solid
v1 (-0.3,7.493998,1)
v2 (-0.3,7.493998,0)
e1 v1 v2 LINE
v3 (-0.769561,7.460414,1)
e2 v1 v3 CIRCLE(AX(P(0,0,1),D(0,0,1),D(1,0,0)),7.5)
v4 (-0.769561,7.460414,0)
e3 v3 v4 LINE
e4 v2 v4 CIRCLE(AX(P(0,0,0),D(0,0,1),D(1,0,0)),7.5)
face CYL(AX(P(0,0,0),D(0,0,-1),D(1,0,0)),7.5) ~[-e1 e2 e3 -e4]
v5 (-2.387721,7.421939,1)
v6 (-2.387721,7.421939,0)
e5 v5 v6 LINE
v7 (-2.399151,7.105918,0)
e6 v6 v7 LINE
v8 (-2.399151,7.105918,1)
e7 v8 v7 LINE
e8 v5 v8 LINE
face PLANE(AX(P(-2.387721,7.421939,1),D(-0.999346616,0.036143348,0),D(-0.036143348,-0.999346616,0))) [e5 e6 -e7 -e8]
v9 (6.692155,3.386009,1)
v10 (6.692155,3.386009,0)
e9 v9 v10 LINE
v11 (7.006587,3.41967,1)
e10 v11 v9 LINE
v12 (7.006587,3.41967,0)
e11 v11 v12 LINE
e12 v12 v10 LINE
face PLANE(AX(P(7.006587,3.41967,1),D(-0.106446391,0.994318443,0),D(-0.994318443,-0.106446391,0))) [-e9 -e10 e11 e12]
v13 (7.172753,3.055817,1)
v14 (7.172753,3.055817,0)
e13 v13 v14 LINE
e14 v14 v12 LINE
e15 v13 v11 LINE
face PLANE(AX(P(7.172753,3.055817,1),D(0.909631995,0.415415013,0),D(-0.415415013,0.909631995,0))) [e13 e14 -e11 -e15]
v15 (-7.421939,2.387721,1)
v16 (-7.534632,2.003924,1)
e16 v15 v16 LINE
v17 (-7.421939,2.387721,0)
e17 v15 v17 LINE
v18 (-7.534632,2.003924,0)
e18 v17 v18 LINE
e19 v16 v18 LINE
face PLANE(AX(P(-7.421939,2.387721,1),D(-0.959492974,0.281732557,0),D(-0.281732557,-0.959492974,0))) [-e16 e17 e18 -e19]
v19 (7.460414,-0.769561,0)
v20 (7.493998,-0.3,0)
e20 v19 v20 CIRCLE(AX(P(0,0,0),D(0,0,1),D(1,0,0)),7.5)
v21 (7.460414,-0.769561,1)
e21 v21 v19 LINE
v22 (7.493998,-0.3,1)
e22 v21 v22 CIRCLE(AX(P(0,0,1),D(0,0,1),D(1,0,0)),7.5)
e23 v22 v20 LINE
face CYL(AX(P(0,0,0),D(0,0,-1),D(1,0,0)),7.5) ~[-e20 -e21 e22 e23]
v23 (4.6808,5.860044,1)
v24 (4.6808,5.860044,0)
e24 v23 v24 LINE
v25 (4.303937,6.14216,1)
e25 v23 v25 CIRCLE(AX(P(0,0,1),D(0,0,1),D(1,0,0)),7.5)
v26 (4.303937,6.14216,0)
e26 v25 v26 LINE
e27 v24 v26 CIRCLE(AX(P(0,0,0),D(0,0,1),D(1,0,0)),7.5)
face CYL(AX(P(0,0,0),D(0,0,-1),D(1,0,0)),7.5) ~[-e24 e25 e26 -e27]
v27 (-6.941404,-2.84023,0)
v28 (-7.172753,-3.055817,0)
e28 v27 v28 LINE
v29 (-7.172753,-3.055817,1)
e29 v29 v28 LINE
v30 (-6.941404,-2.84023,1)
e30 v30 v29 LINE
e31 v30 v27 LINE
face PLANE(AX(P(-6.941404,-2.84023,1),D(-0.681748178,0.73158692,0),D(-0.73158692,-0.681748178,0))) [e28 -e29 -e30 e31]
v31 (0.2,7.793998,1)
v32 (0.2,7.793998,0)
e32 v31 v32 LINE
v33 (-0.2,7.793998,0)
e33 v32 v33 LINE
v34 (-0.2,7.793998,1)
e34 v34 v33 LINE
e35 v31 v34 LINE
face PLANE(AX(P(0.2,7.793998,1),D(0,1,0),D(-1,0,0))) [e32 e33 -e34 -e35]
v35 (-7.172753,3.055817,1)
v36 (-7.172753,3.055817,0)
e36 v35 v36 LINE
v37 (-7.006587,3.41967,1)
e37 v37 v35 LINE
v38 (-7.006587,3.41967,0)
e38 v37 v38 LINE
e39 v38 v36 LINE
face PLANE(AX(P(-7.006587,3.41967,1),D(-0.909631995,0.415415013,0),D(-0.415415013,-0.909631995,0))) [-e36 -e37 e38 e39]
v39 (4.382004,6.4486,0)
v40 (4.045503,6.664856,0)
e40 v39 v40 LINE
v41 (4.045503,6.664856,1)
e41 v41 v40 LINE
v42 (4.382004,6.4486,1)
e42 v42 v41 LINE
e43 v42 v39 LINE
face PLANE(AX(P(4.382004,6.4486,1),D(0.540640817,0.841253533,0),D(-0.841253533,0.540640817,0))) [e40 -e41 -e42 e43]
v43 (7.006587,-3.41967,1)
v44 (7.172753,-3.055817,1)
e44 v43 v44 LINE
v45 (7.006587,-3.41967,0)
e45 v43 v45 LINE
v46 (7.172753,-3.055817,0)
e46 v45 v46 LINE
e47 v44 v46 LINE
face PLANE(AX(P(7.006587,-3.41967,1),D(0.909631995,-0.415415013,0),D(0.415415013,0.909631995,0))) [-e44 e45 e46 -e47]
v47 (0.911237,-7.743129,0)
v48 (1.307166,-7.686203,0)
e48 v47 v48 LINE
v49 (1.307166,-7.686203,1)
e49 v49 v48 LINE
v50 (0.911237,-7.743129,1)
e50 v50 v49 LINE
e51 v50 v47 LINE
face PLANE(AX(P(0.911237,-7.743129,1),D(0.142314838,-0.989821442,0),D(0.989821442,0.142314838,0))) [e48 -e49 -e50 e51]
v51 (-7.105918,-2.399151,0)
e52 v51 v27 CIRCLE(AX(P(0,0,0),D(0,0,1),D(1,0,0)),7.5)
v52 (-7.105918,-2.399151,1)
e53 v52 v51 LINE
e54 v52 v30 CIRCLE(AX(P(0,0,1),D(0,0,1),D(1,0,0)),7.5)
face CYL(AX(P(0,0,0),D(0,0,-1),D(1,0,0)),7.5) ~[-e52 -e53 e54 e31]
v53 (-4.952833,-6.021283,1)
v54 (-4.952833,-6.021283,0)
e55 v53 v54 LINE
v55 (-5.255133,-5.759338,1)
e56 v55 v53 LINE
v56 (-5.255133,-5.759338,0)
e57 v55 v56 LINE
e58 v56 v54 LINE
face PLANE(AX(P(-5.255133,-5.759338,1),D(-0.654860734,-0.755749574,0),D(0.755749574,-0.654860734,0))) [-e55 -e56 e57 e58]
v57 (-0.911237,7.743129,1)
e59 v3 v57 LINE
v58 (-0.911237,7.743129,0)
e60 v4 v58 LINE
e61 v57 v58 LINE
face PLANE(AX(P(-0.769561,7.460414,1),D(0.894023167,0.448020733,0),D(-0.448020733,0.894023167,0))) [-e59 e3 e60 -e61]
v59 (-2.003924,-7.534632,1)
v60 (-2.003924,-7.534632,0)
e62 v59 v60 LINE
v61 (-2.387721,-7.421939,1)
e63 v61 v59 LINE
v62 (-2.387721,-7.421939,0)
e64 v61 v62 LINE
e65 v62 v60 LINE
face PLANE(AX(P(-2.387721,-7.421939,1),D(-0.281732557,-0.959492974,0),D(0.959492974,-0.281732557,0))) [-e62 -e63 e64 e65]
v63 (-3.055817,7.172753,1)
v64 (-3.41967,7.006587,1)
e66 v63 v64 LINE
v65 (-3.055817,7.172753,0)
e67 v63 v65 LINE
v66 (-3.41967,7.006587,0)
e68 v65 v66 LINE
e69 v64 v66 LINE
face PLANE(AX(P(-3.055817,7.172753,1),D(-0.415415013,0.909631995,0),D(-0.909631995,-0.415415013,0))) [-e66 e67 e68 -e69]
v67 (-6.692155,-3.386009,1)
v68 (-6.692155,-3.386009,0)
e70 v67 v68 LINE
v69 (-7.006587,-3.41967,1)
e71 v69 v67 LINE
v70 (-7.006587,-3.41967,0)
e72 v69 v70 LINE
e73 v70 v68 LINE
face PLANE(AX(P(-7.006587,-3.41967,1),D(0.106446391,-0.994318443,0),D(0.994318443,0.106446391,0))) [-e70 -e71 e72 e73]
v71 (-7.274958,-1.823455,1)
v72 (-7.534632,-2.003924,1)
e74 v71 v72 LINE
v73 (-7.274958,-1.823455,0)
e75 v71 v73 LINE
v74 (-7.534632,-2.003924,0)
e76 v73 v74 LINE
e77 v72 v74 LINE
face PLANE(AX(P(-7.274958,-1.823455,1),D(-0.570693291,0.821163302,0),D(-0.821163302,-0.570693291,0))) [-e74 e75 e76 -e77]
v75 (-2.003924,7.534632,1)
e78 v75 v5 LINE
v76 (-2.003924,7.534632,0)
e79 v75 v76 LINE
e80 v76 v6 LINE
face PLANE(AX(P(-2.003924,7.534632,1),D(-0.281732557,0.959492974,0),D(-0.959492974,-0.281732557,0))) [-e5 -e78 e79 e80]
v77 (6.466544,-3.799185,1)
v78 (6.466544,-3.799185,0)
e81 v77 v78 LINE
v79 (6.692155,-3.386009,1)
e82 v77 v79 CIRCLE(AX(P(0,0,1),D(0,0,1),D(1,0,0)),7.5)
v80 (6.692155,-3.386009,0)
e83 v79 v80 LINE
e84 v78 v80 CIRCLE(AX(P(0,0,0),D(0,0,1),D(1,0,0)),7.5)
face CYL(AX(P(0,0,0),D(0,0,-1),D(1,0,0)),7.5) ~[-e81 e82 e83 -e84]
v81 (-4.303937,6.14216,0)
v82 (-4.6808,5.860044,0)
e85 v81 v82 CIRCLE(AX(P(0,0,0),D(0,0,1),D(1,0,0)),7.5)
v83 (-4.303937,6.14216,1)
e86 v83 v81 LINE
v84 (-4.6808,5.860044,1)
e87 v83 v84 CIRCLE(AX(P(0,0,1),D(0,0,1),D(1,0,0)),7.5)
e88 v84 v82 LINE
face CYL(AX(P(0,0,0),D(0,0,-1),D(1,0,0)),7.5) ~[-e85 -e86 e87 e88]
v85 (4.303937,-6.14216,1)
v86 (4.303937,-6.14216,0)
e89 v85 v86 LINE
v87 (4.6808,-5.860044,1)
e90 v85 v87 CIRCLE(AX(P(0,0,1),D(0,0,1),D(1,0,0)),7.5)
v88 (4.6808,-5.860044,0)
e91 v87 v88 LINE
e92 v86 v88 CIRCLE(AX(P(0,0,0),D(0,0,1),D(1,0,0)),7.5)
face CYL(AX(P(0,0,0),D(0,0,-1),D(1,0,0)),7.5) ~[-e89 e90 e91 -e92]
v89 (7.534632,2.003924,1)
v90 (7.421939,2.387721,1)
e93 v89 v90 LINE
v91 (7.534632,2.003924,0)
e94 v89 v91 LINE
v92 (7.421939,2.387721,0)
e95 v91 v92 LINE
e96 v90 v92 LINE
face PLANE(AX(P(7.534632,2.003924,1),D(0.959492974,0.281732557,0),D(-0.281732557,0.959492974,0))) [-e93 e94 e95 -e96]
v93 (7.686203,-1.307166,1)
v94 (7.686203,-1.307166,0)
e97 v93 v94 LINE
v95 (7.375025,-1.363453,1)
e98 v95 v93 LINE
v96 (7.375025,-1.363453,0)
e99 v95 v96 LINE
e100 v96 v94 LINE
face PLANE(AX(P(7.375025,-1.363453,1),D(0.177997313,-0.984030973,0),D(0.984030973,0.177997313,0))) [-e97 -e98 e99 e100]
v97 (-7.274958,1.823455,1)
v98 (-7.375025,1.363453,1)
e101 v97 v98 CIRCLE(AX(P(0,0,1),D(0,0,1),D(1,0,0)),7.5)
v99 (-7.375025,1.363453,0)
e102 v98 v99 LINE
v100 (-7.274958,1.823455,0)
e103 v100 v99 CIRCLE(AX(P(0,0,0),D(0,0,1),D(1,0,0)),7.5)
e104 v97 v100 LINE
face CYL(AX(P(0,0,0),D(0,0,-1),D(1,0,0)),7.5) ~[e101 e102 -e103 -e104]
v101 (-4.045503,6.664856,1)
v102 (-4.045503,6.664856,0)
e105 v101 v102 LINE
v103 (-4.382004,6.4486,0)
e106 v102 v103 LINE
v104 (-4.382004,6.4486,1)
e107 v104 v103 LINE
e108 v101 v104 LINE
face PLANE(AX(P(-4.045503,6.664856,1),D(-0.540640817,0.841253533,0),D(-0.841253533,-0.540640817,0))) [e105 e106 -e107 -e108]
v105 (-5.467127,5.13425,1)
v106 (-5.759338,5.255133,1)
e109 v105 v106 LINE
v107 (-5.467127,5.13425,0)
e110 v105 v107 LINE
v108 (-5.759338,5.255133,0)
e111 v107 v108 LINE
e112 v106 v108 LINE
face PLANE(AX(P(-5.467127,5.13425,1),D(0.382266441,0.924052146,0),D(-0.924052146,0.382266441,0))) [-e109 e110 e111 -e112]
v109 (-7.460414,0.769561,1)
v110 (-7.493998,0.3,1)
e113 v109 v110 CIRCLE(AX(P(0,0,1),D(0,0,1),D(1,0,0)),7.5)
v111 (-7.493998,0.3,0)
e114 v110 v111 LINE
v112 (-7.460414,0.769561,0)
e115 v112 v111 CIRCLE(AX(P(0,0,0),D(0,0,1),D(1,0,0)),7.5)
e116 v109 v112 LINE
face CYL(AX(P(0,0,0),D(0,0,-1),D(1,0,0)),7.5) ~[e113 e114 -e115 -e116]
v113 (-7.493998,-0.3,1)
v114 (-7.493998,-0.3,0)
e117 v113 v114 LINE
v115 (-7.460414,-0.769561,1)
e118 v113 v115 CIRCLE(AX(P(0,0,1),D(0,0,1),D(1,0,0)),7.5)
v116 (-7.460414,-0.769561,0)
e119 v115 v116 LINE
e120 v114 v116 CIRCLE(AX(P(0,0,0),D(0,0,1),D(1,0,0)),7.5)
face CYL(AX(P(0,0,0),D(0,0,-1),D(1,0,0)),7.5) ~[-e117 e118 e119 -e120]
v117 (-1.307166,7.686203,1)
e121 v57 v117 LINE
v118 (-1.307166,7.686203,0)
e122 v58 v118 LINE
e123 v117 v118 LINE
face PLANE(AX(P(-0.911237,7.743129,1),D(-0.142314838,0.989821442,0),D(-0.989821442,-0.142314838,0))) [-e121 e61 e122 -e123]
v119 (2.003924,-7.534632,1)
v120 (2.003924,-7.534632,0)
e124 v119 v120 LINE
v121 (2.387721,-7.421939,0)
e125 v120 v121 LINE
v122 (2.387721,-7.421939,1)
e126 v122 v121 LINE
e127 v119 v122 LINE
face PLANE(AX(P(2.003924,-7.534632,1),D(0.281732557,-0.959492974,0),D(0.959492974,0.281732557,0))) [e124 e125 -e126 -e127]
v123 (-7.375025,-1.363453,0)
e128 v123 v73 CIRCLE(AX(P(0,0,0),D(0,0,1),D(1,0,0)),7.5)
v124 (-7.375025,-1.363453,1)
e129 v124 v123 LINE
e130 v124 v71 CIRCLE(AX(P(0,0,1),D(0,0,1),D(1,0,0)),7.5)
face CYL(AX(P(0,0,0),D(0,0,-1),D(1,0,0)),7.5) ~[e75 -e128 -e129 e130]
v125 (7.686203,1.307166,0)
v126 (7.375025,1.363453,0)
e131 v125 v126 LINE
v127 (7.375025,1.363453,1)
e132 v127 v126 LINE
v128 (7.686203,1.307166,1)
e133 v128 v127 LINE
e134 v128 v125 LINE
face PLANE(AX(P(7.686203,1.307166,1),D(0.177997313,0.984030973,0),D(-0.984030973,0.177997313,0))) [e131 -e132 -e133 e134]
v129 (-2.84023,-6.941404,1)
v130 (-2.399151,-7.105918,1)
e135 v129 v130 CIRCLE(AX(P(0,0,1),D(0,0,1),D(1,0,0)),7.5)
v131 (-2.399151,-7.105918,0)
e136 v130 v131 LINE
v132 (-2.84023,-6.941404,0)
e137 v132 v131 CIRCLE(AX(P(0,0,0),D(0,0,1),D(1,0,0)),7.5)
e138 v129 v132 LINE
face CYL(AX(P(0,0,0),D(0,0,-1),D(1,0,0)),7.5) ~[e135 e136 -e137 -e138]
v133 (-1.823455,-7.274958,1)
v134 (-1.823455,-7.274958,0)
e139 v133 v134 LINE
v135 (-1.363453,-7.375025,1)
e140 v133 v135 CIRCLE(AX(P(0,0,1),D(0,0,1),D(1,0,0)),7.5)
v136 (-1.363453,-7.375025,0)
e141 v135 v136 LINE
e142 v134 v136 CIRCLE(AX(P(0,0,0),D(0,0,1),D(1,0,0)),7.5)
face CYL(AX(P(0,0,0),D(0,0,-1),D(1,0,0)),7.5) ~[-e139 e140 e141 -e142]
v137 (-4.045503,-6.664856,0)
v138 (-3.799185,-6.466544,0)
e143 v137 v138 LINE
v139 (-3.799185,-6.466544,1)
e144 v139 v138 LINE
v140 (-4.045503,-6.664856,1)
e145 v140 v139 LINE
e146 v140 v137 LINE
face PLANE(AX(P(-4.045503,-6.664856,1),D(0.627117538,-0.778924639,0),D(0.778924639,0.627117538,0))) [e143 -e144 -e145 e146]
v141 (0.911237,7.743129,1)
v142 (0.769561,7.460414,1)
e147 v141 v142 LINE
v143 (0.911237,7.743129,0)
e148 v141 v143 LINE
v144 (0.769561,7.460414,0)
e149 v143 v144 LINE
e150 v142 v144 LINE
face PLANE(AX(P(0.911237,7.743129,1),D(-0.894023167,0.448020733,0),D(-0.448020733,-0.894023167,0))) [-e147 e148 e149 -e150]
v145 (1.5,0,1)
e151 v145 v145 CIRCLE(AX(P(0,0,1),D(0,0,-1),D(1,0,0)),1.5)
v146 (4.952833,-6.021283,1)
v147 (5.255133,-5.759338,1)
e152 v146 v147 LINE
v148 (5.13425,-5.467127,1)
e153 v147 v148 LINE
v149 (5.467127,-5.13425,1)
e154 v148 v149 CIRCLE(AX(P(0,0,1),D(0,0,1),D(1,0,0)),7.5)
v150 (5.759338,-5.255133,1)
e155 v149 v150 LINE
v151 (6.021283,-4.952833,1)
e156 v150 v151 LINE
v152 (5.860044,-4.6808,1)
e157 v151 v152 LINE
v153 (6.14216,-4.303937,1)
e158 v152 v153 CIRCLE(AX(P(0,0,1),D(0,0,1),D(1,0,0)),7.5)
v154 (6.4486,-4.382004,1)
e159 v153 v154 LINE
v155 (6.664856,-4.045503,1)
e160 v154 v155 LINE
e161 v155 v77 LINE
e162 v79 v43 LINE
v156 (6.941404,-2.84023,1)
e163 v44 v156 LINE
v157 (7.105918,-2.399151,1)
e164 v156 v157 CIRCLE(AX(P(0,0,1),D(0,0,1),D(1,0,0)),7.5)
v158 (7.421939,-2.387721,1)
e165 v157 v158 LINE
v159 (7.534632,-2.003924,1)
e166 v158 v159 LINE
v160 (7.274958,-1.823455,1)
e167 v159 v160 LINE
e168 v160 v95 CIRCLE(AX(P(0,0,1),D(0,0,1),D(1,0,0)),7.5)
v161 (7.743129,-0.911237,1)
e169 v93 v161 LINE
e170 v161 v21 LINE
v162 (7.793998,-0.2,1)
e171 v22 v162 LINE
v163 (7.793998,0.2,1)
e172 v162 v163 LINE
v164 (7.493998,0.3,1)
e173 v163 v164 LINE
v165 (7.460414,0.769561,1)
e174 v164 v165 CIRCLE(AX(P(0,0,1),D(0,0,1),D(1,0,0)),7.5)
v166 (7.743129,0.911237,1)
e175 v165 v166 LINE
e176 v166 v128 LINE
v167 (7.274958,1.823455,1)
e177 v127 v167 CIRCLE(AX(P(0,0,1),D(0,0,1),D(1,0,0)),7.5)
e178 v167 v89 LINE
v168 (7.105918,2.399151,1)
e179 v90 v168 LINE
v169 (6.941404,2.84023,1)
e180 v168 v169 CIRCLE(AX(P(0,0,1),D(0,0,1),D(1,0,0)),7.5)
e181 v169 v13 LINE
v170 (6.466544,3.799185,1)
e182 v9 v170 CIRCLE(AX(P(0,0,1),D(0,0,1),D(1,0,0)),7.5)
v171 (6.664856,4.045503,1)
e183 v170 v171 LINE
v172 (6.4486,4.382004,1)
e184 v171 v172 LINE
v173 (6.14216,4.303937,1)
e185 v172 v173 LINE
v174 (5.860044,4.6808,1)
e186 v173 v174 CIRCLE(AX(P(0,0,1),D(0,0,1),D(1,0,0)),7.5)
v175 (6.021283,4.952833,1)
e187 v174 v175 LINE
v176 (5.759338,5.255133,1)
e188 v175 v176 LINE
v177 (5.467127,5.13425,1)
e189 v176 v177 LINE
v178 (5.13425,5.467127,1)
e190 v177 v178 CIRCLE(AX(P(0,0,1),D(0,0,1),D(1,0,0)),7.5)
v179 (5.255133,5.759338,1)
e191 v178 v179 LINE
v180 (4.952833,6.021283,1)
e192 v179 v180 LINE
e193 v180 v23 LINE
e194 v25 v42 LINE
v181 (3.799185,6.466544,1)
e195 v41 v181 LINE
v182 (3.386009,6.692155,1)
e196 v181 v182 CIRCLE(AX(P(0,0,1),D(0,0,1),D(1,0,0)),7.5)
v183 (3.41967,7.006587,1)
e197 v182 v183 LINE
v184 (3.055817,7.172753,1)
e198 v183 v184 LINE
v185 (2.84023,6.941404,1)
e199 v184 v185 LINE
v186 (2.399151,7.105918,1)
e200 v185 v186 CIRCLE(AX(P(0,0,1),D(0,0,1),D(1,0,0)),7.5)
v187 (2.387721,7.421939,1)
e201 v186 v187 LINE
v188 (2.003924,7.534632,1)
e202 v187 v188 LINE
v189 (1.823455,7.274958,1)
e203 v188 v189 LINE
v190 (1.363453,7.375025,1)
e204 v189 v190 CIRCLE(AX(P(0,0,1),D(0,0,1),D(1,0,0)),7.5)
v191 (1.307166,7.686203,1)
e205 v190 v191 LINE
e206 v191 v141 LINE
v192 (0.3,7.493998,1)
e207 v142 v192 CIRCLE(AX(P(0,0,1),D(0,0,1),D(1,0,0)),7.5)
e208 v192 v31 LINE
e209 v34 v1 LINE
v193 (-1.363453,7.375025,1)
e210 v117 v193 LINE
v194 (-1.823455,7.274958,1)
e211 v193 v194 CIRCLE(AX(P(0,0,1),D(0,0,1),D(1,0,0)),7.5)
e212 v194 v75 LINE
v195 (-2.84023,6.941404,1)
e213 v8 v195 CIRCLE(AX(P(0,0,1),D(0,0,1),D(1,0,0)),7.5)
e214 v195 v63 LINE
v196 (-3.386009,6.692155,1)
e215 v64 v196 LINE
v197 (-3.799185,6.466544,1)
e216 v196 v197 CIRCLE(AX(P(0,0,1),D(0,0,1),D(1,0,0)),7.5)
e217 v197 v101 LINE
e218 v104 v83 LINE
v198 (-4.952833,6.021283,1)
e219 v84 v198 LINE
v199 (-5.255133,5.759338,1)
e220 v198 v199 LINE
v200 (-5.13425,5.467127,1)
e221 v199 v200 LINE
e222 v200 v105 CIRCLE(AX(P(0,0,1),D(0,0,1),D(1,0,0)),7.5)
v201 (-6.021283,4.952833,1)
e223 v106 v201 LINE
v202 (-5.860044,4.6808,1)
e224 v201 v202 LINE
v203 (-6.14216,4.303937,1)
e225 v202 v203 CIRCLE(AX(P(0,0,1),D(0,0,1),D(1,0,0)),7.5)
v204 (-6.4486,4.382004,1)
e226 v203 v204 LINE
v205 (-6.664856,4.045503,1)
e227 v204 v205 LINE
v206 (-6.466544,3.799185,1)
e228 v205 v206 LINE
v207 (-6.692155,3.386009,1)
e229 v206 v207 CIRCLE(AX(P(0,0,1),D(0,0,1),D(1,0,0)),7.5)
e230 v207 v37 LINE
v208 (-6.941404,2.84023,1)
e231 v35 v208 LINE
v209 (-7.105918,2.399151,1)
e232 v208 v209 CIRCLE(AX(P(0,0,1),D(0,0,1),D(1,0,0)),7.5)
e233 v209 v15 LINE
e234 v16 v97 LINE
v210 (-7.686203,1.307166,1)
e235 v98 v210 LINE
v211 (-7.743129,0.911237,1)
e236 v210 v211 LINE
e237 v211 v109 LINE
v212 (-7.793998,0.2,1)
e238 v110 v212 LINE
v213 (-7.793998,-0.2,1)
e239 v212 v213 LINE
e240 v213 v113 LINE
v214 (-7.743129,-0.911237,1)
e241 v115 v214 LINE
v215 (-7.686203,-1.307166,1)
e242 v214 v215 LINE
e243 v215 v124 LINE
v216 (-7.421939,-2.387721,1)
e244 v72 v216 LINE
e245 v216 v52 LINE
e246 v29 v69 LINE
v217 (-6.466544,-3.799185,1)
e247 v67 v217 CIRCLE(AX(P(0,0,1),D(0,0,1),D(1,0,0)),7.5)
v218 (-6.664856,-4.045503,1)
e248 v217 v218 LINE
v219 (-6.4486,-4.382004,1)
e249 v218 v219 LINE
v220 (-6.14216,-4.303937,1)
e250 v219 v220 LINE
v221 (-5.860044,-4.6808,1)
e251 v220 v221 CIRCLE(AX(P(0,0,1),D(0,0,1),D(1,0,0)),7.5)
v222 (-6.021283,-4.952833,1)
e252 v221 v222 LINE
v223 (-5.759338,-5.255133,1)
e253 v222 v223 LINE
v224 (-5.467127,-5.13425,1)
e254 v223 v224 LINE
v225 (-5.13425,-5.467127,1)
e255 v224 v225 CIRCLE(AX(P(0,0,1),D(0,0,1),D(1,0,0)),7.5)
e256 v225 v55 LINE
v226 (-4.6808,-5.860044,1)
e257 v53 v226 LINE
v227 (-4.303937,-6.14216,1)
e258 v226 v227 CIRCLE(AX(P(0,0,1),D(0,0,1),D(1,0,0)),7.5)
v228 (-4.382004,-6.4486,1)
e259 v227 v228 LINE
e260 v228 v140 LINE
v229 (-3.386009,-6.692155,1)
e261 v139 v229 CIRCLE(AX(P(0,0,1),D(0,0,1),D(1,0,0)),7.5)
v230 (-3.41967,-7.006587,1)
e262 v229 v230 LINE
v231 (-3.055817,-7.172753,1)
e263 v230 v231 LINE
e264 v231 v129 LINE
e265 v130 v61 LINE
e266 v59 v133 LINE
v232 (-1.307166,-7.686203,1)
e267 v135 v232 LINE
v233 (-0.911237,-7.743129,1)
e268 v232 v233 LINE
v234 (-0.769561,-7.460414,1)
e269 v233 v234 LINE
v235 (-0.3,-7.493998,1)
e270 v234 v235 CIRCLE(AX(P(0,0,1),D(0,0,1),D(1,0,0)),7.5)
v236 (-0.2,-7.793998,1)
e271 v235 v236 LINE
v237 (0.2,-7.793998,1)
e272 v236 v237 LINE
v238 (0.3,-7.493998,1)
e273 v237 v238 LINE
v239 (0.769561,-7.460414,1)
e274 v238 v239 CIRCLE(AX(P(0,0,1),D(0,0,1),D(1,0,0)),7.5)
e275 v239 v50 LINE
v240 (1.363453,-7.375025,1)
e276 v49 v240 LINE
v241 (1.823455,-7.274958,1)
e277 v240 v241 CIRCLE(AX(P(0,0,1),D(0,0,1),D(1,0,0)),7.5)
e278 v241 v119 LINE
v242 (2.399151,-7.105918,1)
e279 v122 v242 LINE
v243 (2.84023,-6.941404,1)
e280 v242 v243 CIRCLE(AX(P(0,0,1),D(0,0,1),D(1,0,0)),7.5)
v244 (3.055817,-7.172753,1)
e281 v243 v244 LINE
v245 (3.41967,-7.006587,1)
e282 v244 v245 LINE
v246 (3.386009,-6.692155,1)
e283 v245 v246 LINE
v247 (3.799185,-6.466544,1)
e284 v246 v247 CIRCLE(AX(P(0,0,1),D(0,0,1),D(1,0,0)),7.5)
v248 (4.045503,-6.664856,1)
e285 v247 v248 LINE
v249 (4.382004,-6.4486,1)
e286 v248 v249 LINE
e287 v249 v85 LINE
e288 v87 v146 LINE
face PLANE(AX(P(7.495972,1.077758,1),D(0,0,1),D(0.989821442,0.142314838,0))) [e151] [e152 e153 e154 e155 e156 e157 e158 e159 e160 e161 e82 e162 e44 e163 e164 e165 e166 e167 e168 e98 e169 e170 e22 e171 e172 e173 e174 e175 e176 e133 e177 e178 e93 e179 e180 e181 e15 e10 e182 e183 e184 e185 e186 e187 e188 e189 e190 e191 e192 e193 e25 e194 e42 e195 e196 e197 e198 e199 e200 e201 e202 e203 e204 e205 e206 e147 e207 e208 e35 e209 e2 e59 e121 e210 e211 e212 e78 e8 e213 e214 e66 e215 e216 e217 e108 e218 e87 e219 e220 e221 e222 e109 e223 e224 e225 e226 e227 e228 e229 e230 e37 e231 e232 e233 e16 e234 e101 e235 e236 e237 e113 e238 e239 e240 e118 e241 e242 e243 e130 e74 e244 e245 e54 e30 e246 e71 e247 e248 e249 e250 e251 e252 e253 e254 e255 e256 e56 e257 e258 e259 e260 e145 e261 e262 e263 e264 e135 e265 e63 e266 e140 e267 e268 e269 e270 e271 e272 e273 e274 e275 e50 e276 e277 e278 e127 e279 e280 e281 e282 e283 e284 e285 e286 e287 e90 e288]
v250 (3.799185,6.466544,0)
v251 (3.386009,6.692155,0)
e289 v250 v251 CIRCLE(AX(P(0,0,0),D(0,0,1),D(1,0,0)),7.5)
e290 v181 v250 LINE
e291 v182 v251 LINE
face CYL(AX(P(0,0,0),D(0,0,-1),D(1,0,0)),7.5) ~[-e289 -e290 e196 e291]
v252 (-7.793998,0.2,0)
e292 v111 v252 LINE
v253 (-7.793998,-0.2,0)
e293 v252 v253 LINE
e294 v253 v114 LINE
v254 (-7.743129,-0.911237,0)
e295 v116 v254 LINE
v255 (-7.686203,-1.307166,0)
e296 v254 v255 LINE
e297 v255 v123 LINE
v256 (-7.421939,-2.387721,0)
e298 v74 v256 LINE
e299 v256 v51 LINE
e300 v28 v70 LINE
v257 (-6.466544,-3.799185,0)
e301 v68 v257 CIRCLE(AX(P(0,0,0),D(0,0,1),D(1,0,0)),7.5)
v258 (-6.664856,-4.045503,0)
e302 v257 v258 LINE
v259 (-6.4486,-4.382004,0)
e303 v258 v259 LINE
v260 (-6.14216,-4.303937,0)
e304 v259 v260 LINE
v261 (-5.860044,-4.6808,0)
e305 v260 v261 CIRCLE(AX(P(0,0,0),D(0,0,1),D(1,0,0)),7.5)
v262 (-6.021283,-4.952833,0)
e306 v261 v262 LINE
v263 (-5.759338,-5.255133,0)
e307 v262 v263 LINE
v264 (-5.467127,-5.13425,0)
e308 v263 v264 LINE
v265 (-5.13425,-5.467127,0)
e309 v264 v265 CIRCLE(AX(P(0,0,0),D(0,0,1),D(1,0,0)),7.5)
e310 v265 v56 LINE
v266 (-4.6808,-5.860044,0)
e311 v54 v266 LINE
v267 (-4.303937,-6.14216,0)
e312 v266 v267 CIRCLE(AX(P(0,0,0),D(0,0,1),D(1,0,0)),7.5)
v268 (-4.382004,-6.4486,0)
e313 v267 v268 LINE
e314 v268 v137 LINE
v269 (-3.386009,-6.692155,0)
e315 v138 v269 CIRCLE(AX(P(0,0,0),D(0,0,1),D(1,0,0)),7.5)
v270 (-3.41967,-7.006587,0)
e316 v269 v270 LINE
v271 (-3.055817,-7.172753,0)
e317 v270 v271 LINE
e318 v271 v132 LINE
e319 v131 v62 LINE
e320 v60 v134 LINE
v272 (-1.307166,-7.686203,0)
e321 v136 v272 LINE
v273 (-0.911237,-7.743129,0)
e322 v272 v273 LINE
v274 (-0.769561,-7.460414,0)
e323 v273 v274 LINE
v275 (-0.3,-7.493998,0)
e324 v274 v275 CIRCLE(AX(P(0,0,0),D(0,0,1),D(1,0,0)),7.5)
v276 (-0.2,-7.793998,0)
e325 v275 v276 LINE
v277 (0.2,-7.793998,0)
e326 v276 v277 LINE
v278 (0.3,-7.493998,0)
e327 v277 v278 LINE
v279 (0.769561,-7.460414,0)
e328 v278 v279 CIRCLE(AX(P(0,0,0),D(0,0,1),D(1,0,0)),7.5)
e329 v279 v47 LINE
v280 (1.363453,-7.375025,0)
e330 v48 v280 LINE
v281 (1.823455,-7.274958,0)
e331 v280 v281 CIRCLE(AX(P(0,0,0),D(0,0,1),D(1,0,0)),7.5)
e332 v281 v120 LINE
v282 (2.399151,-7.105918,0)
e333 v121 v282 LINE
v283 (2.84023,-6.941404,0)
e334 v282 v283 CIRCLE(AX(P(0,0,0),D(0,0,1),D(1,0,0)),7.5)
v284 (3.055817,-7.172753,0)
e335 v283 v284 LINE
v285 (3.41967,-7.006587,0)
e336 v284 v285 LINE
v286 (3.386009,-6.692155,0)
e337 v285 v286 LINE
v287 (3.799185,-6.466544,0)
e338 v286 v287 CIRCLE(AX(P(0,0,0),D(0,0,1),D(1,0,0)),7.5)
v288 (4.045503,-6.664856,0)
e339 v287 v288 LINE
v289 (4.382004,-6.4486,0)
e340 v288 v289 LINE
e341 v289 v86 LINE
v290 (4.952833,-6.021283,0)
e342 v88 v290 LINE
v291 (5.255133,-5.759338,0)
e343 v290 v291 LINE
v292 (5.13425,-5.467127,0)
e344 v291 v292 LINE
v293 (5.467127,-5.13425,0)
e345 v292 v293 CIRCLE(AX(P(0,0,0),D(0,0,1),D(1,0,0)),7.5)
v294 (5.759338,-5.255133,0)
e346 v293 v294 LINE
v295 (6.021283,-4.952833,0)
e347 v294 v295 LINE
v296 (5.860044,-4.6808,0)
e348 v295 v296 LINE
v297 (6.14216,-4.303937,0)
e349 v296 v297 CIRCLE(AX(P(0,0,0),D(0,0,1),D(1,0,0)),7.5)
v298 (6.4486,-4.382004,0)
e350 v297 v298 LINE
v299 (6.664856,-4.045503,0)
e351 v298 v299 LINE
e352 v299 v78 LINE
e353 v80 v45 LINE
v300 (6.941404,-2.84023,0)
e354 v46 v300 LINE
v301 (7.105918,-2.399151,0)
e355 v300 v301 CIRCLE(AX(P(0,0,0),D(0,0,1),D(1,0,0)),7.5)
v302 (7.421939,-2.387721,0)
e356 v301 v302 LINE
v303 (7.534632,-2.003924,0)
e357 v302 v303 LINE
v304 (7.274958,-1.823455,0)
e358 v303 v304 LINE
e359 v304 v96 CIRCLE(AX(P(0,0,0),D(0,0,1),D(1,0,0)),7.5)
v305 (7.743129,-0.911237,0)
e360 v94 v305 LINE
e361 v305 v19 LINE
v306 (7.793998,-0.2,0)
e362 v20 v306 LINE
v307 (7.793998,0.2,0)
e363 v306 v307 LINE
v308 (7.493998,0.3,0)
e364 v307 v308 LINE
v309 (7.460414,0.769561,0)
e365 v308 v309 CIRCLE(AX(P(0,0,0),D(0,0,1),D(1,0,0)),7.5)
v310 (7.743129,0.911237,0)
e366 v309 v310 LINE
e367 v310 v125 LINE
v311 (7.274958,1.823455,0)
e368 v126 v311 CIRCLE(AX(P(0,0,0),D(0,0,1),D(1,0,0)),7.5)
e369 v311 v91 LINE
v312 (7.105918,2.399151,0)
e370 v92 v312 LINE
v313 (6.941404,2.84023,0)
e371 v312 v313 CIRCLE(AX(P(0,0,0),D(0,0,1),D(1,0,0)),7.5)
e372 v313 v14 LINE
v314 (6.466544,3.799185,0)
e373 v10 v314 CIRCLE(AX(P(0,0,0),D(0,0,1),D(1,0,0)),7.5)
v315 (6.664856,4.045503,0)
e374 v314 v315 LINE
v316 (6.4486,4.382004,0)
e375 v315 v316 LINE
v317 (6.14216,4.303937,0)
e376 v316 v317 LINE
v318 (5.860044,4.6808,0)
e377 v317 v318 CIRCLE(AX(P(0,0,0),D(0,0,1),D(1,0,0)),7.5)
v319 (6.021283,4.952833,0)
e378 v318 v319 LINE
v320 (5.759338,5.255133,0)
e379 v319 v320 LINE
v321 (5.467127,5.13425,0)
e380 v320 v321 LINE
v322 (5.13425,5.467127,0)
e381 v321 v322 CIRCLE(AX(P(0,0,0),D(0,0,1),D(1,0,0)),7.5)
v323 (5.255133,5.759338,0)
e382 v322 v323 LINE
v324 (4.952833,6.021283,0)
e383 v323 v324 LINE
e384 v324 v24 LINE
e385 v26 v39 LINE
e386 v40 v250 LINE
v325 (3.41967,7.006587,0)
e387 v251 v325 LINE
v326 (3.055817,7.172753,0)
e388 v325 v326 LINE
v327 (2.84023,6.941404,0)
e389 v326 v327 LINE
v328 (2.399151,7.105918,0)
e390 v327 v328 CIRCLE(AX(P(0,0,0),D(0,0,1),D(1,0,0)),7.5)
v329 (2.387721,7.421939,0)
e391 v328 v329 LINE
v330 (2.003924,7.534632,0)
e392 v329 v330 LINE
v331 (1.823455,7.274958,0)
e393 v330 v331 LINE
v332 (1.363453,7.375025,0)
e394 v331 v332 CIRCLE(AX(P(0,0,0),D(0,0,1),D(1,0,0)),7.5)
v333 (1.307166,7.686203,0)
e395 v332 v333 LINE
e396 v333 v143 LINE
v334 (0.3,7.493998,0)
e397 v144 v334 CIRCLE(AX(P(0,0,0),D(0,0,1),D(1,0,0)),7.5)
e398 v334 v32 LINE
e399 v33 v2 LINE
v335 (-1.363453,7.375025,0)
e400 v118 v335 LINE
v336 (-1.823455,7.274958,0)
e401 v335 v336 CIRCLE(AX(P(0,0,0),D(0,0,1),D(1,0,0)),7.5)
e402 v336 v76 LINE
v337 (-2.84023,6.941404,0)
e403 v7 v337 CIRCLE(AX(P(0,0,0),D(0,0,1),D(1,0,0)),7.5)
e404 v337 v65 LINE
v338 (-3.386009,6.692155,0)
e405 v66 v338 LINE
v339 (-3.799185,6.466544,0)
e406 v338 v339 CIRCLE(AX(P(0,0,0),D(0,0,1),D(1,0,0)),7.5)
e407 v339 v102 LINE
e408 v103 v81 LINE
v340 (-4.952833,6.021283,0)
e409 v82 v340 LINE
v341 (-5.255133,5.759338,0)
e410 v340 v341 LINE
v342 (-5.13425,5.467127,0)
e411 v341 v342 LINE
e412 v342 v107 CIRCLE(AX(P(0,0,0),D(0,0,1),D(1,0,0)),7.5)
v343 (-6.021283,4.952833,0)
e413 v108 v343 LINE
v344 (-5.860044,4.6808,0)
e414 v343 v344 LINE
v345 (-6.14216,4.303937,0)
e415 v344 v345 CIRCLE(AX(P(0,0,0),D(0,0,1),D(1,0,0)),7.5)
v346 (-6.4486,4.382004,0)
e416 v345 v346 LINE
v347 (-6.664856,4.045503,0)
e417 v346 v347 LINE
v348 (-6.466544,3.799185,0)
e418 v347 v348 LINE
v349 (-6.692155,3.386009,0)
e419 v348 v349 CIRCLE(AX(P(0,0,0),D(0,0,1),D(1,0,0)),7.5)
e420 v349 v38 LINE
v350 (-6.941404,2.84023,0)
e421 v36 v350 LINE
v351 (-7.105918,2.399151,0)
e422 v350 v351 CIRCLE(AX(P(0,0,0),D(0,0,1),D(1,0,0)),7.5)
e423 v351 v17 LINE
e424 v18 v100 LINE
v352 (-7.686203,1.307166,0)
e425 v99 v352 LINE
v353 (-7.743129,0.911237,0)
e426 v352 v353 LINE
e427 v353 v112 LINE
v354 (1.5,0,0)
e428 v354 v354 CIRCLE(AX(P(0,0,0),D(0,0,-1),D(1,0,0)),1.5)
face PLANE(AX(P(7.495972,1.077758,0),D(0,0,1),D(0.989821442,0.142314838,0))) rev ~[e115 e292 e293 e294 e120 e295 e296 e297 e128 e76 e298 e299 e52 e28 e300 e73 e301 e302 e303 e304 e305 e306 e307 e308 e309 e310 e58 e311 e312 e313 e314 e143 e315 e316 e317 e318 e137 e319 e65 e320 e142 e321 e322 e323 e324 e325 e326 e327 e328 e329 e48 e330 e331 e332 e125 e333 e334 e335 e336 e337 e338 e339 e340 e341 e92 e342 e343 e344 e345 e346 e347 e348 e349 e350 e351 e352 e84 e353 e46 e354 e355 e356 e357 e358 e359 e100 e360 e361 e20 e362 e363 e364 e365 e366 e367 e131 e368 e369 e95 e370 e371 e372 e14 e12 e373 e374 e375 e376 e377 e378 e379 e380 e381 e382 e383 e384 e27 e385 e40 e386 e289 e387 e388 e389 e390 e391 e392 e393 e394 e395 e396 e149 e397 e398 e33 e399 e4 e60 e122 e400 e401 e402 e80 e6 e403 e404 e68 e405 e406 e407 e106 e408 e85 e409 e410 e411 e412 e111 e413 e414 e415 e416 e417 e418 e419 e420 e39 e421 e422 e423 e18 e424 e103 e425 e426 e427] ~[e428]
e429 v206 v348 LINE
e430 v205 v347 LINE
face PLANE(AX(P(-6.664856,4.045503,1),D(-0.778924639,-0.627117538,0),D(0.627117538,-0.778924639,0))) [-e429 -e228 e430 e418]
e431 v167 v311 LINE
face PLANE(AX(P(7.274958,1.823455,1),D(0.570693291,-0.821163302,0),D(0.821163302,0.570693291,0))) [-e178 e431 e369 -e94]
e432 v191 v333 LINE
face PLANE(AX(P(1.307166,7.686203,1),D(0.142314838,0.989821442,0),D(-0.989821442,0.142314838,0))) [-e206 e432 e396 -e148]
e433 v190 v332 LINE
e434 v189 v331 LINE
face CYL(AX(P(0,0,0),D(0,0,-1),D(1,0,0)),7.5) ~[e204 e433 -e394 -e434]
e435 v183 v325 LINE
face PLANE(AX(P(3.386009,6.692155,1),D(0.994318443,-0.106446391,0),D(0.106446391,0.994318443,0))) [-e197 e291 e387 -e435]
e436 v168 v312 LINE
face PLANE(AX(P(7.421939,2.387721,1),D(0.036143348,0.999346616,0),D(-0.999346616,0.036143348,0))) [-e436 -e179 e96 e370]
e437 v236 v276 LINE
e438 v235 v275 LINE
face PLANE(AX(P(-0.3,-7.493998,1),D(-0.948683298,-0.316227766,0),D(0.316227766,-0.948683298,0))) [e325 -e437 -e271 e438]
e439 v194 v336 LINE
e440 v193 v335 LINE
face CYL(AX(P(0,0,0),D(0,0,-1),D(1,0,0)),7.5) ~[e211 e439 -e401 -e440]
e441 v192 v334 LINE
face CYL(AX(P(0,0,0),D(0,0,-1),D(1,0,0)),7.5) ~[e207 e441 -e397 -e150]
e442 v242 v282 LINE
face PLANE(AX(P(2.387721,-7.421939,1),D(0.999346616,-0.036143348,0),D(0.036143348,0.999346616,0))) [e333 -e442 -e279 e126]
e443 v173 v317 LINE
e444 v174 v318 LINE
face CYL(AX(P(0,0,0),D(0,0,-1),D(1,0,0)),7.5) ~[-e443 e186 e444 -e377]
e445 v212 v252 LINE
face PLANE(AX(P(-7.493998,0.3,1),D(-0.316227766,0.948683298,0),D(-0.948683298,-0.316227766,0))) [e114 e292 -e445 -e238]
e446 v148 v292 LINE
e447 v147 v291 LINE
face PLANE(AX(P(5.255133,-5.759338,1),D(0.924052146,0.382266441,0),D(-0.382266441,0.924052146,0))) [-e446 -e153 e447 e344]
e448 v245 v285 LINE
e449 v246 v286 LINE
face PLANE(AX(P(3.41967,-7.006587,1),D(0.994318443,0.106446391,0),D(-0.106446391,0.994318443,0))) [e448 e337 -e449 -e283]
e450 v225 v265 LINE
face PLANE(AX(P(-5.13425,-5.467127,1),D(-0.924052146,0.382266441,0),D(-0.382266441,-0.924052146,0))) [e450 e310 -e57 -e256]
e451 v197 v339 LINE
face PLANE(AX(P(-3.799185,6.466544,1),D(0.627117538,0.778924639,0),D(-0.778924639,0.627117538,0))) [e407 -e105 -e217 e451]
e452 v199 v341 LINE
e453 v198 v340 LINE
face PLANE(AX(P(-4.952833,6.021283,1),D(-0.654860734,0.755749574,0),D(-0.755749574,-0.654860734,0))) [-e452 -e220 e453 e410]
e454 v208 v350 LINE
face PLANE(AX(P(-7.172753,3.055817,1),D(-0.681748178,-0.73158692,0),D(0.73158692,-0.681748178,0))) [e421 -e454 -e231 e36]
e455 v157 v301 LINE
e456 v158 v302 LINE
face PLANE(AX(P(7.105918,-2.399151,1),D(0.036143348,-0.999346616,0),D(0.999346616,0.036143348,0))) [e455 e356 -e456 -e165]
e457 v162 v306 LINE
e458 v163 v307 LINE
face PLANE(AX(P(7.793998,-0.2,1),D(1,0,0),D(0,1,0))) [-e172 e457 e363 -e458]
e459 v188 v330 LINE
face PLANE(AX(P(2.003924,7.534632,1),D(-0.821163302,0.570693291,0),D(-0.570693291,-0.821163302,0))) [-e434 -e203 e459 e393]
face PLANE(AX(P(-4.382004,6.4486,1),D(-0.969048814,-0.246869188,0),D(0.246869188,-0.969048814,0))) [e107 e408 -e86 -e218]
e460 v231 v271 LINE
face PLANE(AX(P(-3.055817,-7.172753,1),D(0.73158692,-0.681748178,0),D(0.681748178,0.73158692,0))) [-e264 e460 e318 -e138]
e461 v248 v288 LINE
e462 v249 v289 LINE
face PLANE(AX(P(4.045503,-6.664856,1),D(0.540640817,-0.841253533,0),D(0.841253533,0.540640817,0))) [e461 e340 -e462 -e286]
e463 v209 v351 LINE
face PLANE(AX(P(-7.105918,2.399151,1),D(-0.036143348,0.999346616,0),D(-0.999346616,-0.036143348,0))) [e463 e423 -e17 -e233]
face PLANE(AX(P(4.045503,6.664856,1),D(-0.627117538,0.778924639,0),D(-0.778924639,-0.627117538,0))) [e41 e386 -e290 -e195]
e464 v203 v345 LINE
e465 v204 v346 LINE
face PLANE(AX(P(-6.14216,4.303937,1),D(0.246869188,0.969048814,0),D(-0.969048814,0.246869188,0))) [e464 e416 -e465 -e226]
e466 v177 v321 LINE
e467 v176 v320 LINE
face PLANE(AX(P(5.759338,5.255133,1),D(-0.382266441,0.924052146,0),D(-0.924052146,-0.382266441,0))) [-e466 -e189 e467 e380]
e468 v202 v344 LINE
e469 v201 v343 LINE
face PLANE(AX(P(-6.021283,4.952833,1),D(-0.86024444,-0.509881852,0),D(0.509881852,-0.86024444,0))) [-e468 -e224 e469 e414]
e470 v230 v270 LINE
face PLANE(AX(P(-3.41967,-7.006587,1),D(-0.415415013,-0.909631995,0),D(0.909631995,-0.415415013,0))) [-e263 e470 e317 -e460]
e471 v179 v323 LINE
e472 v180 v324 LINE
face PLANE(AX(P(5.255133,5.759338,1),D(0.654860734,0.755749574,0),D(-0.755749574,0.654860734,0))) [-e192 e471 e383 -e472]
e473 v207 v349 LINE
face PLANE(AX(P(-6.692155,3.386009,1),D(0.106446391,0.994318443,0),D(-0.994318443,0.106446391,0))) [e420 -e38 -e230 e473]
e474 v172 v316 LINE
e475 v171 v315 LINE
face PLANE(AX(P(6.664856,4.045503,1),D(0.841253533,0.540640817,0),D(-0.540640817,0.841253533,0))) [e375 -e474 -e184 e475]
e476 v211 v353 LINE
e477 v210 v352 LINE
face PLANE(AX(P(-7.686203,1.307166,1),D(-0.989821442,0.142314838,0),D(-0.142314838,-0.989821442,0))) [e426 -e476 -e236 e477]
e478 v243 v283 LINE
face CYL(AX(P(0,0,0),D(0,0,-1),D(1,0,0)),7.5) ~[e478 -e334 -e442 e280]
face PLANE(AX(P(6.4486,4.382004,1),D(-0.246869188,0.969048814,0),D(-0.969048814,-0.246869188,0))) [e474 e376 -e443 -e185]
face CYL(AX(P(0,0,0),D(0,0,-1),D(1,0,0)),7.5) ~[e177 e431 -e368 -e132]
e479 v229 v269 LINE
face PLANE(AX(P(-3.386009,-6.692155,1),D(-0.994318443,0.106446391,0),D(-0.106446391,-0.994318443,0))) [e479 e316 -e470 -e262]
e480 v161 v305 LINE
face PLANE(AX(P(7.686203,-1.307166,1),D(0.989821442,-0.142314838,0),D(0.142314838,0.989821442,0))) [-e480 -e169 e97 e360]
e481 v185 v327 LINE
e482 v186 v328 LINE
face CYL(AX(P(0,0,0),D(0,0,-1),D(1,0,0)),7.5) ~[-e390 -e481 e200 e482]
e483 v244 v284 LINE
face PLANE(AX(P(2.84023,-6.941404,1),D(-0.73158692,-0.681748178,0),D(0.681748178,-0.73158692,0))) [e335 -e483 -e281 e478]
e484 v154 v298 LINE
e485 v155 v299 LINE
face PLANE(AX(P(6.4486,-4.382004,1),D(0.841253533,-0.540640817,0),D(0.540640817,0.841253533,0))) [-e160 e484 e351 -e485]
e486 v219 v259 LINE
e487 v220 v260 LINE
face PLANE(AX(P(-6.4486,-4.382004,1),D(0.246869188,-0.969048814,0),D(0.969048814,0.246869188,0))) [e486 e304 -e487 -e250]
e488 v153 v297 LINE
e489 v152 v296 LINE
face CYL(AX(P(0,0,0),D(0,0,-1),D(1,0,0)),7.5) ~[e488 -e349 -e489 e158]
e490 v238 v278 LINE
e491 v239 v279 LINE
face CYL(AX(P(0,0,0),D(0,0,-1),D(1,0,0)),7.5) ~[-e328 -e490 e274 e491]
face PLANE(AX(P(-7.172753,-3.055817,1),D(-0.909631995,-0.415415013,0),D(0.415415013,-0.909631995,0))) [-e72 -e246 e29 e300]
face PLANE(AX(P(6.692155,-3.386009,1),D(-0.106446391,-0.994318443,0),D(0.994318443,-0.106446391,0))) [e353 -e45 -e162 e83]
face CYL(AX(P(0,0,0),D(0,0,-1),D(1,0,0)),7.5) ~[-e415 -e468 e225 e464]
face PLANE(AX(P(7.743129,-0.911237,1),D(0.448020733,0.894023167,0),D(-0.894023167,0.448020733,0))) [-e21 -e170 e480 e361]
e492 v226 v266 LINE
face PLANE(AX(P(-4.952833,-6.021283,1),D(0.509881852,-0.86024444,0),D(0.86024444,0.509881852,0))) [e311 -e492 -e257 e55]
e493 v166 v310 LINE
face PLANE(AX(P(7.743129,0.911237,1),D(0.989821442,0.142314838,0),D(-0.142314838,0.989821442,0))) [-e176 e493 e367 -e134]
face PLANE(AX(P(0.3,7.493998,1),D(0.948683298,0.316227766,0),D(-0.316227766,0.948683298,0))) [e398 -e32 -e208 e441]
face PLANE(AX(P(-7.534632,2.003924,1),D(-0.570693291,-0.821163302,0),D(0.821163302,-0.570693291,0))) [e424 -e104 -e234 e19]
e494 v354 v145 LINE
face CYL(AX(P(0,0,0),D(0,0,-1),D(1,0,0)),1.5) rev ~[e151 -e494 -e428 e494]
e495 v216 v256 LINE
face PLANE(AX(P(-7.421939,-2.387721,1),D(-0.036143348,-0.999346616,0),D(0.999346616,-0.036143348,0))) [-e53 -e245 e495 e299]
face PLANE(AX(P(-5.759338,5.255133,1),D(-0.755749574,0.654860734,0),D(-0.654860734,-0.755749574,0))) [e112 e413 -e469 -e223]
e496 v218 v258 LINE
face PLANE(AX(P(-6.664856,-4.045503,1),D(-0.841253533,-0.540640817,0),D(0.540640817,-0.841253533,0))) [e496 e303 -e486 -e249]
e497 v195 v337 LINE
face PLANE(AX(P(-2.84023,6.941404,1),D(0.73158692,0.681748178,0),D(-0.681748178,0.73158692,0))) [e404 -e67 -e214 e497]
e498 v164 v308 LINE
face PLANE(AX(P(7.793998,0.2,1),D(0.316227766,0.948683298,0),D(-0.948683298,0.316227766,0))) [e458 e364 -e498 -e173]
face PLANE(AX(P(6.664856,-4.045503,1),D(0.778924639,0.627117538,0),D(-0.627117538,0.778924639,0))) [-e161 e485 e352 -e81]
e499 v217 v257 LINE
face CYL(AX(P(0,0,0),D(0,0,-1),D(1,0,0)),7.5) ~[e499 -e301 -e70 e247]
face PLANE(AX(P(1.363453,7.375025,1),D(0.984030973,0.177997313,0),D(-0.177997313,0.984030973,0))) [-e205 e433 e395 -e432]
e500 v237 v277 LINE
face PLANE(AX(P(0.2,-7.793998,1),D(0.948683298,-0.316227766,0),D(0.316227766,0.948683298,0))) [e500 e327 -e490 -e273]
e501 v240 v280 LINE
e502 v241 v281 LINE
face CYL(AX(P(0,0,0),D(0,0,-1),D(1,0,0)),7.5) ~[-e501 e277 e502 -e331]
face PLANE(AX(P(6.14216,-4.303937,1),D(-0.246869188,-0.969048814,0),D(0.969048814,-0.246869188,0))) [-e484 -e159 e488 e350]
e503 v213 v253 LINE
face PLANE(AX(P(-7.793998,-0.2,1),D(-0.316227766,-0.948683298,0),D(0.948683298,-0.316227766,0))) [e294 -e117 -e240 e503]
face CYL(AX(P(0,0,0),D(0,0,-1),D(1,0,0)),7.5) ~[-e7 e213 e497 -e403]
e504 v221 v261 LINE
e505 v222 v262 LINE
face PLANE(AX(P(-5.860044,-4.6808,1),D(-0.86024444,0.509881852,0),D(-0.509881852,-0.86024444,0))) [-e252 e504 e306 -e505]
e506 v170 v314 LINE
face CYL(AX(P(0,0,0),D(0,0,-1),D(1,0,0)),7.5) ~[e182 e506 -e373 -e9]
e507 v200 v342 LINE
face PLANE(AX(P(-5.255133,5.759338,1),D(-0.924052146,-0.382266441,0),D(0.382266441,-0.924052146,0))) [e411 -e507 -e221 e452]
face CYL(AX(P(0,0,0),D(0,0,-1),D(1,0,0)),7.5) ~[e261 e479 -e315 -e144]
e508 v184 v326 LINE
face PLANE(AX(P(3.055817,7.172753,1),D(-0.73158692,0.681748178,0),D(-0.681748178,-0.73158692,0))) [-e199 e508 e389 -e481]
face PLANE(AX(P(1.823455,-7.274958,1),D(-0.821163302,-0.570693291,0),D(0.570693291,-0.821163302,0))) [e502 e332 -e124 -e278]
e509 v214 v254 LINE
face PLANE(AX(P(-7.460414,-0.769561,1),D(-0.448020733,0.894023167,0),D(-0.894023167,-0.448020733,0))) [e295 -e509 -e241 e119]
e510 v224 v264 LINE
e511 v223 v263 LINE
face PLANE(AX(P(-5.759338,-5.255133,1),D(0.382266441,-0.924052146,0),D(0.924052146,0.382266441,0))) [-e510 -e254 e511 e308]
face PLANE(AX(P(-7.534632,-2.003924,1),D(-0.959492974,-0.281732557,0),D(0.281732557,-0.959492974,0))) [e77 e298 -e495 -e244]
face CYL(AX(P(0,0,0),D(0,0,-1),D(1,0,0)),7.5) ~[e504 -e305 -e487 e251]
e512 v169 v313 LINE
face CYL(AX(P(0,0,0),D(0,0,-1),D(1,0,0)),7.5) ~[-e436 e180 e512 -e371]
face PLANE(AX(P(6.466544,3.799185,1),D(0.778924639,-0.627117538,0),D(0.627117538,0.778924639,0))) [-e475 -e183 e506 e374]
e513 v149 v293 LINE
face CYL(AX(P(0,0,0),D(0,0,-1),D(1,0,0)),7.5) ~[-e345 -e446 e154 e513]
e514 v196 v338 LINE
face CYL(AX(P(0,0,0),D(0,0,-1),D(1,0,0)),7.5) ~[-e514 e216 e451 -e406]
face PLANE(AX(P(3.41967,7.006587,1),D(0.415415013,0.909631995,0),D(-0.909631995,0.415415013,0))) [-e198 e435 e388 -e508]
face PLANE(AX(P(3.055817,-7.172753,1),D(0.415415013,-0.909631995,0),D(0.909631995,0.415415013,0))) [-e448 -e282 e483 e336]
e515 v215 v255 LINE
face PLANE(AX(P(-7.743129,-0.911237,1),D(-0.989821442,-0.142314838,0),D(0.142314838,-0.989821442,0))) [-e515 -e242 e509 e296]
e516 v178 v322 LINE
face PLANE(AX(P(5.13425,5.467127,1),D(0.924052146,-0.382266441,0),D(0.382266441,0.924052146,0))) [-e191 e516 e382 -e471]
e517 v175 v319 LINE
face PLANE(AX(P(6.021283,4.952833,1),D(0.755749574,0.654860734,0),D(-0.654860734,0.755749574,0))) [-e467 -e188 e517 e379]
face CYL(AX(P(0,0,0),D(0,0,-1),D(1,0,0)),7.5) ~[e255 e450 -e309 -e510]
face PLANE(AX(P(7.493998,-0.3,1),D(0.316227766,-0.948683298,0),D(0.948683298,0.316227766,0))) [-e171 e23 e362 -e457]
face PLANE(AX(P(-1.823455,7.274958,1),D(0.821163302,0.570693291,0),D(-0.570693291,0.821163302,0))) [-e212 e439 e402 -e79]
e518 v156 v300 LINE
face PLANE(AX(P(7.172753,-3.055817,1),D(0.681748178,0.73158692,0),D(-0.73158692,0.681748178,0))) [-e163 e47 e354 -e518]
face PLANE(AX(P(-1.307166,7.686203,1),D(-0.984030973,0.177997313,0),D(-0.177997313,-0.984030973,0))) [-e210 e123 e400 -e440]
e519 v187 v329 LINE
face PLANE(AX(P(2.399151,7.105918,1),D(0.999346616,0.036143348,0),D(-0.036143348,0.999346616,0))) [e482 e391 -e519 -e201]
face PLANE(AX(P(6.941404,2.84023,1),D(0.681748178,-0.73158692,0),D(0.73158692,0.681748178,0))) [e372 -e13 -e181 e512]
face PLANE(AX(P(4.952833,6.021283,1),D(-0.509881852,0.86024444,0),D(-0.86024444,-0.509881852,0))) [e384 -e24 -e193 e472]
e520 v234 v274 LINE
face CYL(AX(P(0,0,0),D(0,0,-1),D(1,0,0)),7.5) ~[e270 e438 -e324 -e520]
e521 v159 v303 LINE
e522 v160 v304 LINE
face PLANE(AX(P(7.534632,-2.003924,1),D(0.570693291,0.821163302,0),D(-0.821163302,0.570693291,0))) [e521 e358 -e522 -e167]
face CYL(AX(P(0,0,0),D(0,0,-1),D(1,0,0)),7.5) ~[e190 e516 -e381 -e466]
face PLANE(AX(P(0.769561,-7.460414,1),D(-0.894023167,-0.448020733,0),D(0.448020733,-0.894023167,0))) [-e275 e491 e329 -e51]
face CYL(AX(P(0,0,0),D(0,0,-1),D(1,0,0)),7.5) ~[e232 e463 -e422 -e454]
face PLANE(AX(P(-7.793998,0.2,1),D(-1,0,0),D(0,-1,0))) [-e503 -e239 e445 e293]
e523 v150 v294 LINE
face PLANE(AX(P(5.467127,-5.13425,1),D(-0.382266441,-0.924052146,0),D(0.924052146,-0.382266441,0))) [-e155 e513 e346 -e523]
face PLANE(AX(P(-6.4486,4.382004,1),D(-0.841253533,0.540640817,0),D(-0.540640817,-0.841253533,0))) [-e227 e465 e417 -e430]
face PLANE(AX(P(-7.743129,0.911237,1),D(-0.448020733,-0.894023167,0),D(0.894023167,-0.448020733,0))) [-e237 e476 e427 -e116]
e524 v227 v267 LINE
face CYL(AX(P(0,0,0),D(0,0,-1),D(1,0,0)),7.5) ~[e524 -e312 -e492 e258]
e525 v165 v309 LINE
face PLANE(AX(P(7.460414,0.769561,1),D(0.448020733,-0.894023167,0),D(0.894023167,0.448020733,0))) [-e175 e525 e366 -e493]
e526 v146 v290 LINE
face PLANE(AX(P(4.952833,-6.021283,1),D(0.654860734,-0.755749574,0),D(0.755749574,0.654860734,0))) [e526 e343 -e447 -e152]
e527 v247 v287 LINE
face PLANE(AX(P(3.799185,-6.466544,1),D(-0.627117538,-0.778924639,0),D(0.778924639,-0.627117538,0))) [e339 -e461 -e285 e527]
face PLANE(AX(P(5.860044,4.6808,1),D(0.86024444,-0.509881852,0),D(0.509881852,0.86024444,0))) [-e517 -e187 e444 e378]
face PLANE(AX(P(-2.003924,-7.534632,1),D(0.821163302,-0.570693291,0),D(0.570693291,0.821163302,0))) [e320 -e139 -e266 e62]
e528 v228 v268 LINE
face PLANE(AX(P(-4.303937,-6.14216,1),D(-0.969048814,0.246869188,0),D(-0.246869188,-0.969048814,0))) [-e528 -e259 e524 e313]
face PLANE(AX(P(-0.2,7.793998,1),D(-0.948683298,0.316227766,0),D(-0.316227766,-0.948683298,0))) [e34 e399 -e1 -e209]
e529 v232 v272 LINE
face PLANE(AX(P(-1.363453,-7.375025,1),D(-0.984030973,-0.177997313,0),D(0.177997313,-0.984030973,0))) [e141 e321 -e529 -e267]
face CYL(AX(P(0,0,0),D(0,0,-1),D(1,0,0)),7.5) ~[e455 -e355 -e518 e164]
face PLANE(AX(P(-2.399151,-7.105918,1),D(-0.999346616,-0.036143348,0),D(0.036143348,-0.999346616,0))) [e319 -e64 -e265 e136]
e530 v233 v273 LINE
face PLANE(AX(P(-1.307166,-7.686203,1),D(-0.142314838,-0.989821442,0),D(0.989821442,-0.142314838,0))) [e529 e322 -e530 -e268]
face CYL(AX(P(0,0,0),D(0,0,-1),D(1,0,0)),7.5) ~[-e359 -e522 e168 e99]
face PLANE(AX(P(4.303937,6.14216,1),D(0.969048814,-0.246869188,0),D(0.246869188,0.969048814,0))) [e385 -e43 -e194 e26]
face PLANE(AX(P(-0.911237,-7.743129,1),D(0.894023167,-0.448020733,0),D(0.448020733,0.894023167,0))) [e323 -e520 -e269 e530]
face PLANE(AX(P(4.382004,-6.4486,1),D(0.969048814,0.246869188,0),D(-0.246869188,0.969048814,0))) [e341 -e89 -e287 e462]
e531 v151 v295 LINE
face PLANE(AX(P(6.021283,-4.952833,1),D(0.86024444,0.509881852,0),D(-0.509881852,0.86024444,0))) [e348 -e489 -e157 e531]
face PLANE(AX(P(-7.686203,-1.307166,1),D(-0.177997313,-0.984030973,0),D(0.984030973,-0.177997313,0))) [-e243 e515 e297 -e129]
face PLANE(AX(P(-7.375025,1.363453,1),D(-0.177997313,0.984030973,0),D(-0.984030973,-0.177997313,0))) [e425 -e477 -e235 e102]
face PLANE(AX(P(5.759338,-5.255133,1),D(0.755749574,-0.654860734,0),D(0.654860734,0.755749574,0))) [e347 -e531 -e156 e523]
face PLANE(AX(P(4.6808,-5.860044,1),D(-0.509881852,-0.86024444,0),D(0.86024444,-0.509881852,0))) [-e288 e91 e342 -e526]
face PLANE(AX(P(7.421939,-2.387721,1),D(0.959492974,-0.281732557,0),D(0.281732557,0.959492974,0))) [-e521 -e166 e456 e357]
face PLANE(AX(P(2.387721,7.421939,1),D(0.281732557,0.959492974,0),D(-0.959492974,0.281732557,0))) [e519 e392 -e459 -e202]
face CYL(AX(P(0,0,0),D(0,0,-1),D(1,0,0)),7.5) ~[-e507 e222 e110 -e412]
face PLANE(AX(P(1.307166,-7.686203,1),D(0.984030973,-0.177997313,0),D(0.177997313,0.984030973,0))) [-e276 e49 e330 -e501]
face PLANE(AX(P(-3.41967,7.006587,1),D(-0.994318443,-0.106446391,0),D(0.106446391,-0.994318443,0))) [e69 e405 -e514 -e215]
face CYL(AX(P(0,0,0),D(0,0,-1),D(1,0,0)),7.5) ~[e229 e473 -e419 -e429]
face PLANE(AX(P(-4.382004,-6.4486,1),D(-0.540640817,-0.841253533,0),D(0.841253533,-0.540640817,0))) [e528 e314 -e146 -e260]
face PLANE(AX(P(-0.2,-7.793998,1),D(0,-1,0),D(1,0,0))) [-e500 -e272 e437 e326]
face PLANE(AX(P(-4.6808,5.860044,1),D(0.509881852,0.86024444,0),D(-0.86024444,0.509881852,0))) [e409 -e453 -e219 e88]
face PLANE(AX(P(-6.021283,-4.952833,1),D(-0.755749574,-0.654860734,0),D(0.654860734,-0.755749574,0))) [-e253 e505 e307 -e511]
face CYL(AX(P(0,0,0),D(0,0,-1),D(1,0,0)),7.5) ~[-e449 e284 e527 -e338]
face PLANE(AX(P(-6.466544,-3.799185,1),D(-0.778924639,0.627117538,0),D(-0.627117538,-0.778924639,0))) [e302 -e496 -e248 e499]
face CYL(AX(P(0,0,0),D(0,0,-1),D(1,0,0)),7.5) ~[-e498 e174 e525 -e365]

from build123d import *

# Parameters (mm, degrees)
F3_R      = 7.5
F4_DEPTH  = 1
F8_DEPTH  = 1
F9_COUNT  = 44
F10_R     = 1.5
F11_DEPTH = 1


with BuildPart() as f4:
    # F3 (on Top) → F4 (new body)
    with BuildSketch(Plane.XY):
        Circle(F3_R)
    extrude(amount=F4_DEPTH)

    # F5 (on face) → F8 (join)
    with BuildSketch(Plane.XY.offset(1)):
        Polygon((7.7939975981, -0.2), (7.7939975981, 0.2), (7.4939975981, 0.3), (7.3939975981, 0.3), (7.3939975981, -0.3), (7.4939975981, -0.3), align=None)
    extrude(amount=-F8_DEPTH)

    # F9: F4 ×44 about axis
    f9_axis = Axis((0, 0, 0), (0, 0, -1))


with BuildPart() as f4_1:
    add(f4.part)
    for i in range(1, F9_COUNT):
        add(f4.part.rotate(f9_axis, i * 360 / F9_COUNT))

    # F10 (on face) → F11 (cut, through all)
    with BuildSketch(Plane(origin=(0, 0, 0), x_dir=(1, 0, 0), z_dir=(0, 0, -1))):
        Circle(F10_R)
    extrude(amount=-F11_DEPTH, mode=Mode.SUBTRACT)


solid = f4_1.part
